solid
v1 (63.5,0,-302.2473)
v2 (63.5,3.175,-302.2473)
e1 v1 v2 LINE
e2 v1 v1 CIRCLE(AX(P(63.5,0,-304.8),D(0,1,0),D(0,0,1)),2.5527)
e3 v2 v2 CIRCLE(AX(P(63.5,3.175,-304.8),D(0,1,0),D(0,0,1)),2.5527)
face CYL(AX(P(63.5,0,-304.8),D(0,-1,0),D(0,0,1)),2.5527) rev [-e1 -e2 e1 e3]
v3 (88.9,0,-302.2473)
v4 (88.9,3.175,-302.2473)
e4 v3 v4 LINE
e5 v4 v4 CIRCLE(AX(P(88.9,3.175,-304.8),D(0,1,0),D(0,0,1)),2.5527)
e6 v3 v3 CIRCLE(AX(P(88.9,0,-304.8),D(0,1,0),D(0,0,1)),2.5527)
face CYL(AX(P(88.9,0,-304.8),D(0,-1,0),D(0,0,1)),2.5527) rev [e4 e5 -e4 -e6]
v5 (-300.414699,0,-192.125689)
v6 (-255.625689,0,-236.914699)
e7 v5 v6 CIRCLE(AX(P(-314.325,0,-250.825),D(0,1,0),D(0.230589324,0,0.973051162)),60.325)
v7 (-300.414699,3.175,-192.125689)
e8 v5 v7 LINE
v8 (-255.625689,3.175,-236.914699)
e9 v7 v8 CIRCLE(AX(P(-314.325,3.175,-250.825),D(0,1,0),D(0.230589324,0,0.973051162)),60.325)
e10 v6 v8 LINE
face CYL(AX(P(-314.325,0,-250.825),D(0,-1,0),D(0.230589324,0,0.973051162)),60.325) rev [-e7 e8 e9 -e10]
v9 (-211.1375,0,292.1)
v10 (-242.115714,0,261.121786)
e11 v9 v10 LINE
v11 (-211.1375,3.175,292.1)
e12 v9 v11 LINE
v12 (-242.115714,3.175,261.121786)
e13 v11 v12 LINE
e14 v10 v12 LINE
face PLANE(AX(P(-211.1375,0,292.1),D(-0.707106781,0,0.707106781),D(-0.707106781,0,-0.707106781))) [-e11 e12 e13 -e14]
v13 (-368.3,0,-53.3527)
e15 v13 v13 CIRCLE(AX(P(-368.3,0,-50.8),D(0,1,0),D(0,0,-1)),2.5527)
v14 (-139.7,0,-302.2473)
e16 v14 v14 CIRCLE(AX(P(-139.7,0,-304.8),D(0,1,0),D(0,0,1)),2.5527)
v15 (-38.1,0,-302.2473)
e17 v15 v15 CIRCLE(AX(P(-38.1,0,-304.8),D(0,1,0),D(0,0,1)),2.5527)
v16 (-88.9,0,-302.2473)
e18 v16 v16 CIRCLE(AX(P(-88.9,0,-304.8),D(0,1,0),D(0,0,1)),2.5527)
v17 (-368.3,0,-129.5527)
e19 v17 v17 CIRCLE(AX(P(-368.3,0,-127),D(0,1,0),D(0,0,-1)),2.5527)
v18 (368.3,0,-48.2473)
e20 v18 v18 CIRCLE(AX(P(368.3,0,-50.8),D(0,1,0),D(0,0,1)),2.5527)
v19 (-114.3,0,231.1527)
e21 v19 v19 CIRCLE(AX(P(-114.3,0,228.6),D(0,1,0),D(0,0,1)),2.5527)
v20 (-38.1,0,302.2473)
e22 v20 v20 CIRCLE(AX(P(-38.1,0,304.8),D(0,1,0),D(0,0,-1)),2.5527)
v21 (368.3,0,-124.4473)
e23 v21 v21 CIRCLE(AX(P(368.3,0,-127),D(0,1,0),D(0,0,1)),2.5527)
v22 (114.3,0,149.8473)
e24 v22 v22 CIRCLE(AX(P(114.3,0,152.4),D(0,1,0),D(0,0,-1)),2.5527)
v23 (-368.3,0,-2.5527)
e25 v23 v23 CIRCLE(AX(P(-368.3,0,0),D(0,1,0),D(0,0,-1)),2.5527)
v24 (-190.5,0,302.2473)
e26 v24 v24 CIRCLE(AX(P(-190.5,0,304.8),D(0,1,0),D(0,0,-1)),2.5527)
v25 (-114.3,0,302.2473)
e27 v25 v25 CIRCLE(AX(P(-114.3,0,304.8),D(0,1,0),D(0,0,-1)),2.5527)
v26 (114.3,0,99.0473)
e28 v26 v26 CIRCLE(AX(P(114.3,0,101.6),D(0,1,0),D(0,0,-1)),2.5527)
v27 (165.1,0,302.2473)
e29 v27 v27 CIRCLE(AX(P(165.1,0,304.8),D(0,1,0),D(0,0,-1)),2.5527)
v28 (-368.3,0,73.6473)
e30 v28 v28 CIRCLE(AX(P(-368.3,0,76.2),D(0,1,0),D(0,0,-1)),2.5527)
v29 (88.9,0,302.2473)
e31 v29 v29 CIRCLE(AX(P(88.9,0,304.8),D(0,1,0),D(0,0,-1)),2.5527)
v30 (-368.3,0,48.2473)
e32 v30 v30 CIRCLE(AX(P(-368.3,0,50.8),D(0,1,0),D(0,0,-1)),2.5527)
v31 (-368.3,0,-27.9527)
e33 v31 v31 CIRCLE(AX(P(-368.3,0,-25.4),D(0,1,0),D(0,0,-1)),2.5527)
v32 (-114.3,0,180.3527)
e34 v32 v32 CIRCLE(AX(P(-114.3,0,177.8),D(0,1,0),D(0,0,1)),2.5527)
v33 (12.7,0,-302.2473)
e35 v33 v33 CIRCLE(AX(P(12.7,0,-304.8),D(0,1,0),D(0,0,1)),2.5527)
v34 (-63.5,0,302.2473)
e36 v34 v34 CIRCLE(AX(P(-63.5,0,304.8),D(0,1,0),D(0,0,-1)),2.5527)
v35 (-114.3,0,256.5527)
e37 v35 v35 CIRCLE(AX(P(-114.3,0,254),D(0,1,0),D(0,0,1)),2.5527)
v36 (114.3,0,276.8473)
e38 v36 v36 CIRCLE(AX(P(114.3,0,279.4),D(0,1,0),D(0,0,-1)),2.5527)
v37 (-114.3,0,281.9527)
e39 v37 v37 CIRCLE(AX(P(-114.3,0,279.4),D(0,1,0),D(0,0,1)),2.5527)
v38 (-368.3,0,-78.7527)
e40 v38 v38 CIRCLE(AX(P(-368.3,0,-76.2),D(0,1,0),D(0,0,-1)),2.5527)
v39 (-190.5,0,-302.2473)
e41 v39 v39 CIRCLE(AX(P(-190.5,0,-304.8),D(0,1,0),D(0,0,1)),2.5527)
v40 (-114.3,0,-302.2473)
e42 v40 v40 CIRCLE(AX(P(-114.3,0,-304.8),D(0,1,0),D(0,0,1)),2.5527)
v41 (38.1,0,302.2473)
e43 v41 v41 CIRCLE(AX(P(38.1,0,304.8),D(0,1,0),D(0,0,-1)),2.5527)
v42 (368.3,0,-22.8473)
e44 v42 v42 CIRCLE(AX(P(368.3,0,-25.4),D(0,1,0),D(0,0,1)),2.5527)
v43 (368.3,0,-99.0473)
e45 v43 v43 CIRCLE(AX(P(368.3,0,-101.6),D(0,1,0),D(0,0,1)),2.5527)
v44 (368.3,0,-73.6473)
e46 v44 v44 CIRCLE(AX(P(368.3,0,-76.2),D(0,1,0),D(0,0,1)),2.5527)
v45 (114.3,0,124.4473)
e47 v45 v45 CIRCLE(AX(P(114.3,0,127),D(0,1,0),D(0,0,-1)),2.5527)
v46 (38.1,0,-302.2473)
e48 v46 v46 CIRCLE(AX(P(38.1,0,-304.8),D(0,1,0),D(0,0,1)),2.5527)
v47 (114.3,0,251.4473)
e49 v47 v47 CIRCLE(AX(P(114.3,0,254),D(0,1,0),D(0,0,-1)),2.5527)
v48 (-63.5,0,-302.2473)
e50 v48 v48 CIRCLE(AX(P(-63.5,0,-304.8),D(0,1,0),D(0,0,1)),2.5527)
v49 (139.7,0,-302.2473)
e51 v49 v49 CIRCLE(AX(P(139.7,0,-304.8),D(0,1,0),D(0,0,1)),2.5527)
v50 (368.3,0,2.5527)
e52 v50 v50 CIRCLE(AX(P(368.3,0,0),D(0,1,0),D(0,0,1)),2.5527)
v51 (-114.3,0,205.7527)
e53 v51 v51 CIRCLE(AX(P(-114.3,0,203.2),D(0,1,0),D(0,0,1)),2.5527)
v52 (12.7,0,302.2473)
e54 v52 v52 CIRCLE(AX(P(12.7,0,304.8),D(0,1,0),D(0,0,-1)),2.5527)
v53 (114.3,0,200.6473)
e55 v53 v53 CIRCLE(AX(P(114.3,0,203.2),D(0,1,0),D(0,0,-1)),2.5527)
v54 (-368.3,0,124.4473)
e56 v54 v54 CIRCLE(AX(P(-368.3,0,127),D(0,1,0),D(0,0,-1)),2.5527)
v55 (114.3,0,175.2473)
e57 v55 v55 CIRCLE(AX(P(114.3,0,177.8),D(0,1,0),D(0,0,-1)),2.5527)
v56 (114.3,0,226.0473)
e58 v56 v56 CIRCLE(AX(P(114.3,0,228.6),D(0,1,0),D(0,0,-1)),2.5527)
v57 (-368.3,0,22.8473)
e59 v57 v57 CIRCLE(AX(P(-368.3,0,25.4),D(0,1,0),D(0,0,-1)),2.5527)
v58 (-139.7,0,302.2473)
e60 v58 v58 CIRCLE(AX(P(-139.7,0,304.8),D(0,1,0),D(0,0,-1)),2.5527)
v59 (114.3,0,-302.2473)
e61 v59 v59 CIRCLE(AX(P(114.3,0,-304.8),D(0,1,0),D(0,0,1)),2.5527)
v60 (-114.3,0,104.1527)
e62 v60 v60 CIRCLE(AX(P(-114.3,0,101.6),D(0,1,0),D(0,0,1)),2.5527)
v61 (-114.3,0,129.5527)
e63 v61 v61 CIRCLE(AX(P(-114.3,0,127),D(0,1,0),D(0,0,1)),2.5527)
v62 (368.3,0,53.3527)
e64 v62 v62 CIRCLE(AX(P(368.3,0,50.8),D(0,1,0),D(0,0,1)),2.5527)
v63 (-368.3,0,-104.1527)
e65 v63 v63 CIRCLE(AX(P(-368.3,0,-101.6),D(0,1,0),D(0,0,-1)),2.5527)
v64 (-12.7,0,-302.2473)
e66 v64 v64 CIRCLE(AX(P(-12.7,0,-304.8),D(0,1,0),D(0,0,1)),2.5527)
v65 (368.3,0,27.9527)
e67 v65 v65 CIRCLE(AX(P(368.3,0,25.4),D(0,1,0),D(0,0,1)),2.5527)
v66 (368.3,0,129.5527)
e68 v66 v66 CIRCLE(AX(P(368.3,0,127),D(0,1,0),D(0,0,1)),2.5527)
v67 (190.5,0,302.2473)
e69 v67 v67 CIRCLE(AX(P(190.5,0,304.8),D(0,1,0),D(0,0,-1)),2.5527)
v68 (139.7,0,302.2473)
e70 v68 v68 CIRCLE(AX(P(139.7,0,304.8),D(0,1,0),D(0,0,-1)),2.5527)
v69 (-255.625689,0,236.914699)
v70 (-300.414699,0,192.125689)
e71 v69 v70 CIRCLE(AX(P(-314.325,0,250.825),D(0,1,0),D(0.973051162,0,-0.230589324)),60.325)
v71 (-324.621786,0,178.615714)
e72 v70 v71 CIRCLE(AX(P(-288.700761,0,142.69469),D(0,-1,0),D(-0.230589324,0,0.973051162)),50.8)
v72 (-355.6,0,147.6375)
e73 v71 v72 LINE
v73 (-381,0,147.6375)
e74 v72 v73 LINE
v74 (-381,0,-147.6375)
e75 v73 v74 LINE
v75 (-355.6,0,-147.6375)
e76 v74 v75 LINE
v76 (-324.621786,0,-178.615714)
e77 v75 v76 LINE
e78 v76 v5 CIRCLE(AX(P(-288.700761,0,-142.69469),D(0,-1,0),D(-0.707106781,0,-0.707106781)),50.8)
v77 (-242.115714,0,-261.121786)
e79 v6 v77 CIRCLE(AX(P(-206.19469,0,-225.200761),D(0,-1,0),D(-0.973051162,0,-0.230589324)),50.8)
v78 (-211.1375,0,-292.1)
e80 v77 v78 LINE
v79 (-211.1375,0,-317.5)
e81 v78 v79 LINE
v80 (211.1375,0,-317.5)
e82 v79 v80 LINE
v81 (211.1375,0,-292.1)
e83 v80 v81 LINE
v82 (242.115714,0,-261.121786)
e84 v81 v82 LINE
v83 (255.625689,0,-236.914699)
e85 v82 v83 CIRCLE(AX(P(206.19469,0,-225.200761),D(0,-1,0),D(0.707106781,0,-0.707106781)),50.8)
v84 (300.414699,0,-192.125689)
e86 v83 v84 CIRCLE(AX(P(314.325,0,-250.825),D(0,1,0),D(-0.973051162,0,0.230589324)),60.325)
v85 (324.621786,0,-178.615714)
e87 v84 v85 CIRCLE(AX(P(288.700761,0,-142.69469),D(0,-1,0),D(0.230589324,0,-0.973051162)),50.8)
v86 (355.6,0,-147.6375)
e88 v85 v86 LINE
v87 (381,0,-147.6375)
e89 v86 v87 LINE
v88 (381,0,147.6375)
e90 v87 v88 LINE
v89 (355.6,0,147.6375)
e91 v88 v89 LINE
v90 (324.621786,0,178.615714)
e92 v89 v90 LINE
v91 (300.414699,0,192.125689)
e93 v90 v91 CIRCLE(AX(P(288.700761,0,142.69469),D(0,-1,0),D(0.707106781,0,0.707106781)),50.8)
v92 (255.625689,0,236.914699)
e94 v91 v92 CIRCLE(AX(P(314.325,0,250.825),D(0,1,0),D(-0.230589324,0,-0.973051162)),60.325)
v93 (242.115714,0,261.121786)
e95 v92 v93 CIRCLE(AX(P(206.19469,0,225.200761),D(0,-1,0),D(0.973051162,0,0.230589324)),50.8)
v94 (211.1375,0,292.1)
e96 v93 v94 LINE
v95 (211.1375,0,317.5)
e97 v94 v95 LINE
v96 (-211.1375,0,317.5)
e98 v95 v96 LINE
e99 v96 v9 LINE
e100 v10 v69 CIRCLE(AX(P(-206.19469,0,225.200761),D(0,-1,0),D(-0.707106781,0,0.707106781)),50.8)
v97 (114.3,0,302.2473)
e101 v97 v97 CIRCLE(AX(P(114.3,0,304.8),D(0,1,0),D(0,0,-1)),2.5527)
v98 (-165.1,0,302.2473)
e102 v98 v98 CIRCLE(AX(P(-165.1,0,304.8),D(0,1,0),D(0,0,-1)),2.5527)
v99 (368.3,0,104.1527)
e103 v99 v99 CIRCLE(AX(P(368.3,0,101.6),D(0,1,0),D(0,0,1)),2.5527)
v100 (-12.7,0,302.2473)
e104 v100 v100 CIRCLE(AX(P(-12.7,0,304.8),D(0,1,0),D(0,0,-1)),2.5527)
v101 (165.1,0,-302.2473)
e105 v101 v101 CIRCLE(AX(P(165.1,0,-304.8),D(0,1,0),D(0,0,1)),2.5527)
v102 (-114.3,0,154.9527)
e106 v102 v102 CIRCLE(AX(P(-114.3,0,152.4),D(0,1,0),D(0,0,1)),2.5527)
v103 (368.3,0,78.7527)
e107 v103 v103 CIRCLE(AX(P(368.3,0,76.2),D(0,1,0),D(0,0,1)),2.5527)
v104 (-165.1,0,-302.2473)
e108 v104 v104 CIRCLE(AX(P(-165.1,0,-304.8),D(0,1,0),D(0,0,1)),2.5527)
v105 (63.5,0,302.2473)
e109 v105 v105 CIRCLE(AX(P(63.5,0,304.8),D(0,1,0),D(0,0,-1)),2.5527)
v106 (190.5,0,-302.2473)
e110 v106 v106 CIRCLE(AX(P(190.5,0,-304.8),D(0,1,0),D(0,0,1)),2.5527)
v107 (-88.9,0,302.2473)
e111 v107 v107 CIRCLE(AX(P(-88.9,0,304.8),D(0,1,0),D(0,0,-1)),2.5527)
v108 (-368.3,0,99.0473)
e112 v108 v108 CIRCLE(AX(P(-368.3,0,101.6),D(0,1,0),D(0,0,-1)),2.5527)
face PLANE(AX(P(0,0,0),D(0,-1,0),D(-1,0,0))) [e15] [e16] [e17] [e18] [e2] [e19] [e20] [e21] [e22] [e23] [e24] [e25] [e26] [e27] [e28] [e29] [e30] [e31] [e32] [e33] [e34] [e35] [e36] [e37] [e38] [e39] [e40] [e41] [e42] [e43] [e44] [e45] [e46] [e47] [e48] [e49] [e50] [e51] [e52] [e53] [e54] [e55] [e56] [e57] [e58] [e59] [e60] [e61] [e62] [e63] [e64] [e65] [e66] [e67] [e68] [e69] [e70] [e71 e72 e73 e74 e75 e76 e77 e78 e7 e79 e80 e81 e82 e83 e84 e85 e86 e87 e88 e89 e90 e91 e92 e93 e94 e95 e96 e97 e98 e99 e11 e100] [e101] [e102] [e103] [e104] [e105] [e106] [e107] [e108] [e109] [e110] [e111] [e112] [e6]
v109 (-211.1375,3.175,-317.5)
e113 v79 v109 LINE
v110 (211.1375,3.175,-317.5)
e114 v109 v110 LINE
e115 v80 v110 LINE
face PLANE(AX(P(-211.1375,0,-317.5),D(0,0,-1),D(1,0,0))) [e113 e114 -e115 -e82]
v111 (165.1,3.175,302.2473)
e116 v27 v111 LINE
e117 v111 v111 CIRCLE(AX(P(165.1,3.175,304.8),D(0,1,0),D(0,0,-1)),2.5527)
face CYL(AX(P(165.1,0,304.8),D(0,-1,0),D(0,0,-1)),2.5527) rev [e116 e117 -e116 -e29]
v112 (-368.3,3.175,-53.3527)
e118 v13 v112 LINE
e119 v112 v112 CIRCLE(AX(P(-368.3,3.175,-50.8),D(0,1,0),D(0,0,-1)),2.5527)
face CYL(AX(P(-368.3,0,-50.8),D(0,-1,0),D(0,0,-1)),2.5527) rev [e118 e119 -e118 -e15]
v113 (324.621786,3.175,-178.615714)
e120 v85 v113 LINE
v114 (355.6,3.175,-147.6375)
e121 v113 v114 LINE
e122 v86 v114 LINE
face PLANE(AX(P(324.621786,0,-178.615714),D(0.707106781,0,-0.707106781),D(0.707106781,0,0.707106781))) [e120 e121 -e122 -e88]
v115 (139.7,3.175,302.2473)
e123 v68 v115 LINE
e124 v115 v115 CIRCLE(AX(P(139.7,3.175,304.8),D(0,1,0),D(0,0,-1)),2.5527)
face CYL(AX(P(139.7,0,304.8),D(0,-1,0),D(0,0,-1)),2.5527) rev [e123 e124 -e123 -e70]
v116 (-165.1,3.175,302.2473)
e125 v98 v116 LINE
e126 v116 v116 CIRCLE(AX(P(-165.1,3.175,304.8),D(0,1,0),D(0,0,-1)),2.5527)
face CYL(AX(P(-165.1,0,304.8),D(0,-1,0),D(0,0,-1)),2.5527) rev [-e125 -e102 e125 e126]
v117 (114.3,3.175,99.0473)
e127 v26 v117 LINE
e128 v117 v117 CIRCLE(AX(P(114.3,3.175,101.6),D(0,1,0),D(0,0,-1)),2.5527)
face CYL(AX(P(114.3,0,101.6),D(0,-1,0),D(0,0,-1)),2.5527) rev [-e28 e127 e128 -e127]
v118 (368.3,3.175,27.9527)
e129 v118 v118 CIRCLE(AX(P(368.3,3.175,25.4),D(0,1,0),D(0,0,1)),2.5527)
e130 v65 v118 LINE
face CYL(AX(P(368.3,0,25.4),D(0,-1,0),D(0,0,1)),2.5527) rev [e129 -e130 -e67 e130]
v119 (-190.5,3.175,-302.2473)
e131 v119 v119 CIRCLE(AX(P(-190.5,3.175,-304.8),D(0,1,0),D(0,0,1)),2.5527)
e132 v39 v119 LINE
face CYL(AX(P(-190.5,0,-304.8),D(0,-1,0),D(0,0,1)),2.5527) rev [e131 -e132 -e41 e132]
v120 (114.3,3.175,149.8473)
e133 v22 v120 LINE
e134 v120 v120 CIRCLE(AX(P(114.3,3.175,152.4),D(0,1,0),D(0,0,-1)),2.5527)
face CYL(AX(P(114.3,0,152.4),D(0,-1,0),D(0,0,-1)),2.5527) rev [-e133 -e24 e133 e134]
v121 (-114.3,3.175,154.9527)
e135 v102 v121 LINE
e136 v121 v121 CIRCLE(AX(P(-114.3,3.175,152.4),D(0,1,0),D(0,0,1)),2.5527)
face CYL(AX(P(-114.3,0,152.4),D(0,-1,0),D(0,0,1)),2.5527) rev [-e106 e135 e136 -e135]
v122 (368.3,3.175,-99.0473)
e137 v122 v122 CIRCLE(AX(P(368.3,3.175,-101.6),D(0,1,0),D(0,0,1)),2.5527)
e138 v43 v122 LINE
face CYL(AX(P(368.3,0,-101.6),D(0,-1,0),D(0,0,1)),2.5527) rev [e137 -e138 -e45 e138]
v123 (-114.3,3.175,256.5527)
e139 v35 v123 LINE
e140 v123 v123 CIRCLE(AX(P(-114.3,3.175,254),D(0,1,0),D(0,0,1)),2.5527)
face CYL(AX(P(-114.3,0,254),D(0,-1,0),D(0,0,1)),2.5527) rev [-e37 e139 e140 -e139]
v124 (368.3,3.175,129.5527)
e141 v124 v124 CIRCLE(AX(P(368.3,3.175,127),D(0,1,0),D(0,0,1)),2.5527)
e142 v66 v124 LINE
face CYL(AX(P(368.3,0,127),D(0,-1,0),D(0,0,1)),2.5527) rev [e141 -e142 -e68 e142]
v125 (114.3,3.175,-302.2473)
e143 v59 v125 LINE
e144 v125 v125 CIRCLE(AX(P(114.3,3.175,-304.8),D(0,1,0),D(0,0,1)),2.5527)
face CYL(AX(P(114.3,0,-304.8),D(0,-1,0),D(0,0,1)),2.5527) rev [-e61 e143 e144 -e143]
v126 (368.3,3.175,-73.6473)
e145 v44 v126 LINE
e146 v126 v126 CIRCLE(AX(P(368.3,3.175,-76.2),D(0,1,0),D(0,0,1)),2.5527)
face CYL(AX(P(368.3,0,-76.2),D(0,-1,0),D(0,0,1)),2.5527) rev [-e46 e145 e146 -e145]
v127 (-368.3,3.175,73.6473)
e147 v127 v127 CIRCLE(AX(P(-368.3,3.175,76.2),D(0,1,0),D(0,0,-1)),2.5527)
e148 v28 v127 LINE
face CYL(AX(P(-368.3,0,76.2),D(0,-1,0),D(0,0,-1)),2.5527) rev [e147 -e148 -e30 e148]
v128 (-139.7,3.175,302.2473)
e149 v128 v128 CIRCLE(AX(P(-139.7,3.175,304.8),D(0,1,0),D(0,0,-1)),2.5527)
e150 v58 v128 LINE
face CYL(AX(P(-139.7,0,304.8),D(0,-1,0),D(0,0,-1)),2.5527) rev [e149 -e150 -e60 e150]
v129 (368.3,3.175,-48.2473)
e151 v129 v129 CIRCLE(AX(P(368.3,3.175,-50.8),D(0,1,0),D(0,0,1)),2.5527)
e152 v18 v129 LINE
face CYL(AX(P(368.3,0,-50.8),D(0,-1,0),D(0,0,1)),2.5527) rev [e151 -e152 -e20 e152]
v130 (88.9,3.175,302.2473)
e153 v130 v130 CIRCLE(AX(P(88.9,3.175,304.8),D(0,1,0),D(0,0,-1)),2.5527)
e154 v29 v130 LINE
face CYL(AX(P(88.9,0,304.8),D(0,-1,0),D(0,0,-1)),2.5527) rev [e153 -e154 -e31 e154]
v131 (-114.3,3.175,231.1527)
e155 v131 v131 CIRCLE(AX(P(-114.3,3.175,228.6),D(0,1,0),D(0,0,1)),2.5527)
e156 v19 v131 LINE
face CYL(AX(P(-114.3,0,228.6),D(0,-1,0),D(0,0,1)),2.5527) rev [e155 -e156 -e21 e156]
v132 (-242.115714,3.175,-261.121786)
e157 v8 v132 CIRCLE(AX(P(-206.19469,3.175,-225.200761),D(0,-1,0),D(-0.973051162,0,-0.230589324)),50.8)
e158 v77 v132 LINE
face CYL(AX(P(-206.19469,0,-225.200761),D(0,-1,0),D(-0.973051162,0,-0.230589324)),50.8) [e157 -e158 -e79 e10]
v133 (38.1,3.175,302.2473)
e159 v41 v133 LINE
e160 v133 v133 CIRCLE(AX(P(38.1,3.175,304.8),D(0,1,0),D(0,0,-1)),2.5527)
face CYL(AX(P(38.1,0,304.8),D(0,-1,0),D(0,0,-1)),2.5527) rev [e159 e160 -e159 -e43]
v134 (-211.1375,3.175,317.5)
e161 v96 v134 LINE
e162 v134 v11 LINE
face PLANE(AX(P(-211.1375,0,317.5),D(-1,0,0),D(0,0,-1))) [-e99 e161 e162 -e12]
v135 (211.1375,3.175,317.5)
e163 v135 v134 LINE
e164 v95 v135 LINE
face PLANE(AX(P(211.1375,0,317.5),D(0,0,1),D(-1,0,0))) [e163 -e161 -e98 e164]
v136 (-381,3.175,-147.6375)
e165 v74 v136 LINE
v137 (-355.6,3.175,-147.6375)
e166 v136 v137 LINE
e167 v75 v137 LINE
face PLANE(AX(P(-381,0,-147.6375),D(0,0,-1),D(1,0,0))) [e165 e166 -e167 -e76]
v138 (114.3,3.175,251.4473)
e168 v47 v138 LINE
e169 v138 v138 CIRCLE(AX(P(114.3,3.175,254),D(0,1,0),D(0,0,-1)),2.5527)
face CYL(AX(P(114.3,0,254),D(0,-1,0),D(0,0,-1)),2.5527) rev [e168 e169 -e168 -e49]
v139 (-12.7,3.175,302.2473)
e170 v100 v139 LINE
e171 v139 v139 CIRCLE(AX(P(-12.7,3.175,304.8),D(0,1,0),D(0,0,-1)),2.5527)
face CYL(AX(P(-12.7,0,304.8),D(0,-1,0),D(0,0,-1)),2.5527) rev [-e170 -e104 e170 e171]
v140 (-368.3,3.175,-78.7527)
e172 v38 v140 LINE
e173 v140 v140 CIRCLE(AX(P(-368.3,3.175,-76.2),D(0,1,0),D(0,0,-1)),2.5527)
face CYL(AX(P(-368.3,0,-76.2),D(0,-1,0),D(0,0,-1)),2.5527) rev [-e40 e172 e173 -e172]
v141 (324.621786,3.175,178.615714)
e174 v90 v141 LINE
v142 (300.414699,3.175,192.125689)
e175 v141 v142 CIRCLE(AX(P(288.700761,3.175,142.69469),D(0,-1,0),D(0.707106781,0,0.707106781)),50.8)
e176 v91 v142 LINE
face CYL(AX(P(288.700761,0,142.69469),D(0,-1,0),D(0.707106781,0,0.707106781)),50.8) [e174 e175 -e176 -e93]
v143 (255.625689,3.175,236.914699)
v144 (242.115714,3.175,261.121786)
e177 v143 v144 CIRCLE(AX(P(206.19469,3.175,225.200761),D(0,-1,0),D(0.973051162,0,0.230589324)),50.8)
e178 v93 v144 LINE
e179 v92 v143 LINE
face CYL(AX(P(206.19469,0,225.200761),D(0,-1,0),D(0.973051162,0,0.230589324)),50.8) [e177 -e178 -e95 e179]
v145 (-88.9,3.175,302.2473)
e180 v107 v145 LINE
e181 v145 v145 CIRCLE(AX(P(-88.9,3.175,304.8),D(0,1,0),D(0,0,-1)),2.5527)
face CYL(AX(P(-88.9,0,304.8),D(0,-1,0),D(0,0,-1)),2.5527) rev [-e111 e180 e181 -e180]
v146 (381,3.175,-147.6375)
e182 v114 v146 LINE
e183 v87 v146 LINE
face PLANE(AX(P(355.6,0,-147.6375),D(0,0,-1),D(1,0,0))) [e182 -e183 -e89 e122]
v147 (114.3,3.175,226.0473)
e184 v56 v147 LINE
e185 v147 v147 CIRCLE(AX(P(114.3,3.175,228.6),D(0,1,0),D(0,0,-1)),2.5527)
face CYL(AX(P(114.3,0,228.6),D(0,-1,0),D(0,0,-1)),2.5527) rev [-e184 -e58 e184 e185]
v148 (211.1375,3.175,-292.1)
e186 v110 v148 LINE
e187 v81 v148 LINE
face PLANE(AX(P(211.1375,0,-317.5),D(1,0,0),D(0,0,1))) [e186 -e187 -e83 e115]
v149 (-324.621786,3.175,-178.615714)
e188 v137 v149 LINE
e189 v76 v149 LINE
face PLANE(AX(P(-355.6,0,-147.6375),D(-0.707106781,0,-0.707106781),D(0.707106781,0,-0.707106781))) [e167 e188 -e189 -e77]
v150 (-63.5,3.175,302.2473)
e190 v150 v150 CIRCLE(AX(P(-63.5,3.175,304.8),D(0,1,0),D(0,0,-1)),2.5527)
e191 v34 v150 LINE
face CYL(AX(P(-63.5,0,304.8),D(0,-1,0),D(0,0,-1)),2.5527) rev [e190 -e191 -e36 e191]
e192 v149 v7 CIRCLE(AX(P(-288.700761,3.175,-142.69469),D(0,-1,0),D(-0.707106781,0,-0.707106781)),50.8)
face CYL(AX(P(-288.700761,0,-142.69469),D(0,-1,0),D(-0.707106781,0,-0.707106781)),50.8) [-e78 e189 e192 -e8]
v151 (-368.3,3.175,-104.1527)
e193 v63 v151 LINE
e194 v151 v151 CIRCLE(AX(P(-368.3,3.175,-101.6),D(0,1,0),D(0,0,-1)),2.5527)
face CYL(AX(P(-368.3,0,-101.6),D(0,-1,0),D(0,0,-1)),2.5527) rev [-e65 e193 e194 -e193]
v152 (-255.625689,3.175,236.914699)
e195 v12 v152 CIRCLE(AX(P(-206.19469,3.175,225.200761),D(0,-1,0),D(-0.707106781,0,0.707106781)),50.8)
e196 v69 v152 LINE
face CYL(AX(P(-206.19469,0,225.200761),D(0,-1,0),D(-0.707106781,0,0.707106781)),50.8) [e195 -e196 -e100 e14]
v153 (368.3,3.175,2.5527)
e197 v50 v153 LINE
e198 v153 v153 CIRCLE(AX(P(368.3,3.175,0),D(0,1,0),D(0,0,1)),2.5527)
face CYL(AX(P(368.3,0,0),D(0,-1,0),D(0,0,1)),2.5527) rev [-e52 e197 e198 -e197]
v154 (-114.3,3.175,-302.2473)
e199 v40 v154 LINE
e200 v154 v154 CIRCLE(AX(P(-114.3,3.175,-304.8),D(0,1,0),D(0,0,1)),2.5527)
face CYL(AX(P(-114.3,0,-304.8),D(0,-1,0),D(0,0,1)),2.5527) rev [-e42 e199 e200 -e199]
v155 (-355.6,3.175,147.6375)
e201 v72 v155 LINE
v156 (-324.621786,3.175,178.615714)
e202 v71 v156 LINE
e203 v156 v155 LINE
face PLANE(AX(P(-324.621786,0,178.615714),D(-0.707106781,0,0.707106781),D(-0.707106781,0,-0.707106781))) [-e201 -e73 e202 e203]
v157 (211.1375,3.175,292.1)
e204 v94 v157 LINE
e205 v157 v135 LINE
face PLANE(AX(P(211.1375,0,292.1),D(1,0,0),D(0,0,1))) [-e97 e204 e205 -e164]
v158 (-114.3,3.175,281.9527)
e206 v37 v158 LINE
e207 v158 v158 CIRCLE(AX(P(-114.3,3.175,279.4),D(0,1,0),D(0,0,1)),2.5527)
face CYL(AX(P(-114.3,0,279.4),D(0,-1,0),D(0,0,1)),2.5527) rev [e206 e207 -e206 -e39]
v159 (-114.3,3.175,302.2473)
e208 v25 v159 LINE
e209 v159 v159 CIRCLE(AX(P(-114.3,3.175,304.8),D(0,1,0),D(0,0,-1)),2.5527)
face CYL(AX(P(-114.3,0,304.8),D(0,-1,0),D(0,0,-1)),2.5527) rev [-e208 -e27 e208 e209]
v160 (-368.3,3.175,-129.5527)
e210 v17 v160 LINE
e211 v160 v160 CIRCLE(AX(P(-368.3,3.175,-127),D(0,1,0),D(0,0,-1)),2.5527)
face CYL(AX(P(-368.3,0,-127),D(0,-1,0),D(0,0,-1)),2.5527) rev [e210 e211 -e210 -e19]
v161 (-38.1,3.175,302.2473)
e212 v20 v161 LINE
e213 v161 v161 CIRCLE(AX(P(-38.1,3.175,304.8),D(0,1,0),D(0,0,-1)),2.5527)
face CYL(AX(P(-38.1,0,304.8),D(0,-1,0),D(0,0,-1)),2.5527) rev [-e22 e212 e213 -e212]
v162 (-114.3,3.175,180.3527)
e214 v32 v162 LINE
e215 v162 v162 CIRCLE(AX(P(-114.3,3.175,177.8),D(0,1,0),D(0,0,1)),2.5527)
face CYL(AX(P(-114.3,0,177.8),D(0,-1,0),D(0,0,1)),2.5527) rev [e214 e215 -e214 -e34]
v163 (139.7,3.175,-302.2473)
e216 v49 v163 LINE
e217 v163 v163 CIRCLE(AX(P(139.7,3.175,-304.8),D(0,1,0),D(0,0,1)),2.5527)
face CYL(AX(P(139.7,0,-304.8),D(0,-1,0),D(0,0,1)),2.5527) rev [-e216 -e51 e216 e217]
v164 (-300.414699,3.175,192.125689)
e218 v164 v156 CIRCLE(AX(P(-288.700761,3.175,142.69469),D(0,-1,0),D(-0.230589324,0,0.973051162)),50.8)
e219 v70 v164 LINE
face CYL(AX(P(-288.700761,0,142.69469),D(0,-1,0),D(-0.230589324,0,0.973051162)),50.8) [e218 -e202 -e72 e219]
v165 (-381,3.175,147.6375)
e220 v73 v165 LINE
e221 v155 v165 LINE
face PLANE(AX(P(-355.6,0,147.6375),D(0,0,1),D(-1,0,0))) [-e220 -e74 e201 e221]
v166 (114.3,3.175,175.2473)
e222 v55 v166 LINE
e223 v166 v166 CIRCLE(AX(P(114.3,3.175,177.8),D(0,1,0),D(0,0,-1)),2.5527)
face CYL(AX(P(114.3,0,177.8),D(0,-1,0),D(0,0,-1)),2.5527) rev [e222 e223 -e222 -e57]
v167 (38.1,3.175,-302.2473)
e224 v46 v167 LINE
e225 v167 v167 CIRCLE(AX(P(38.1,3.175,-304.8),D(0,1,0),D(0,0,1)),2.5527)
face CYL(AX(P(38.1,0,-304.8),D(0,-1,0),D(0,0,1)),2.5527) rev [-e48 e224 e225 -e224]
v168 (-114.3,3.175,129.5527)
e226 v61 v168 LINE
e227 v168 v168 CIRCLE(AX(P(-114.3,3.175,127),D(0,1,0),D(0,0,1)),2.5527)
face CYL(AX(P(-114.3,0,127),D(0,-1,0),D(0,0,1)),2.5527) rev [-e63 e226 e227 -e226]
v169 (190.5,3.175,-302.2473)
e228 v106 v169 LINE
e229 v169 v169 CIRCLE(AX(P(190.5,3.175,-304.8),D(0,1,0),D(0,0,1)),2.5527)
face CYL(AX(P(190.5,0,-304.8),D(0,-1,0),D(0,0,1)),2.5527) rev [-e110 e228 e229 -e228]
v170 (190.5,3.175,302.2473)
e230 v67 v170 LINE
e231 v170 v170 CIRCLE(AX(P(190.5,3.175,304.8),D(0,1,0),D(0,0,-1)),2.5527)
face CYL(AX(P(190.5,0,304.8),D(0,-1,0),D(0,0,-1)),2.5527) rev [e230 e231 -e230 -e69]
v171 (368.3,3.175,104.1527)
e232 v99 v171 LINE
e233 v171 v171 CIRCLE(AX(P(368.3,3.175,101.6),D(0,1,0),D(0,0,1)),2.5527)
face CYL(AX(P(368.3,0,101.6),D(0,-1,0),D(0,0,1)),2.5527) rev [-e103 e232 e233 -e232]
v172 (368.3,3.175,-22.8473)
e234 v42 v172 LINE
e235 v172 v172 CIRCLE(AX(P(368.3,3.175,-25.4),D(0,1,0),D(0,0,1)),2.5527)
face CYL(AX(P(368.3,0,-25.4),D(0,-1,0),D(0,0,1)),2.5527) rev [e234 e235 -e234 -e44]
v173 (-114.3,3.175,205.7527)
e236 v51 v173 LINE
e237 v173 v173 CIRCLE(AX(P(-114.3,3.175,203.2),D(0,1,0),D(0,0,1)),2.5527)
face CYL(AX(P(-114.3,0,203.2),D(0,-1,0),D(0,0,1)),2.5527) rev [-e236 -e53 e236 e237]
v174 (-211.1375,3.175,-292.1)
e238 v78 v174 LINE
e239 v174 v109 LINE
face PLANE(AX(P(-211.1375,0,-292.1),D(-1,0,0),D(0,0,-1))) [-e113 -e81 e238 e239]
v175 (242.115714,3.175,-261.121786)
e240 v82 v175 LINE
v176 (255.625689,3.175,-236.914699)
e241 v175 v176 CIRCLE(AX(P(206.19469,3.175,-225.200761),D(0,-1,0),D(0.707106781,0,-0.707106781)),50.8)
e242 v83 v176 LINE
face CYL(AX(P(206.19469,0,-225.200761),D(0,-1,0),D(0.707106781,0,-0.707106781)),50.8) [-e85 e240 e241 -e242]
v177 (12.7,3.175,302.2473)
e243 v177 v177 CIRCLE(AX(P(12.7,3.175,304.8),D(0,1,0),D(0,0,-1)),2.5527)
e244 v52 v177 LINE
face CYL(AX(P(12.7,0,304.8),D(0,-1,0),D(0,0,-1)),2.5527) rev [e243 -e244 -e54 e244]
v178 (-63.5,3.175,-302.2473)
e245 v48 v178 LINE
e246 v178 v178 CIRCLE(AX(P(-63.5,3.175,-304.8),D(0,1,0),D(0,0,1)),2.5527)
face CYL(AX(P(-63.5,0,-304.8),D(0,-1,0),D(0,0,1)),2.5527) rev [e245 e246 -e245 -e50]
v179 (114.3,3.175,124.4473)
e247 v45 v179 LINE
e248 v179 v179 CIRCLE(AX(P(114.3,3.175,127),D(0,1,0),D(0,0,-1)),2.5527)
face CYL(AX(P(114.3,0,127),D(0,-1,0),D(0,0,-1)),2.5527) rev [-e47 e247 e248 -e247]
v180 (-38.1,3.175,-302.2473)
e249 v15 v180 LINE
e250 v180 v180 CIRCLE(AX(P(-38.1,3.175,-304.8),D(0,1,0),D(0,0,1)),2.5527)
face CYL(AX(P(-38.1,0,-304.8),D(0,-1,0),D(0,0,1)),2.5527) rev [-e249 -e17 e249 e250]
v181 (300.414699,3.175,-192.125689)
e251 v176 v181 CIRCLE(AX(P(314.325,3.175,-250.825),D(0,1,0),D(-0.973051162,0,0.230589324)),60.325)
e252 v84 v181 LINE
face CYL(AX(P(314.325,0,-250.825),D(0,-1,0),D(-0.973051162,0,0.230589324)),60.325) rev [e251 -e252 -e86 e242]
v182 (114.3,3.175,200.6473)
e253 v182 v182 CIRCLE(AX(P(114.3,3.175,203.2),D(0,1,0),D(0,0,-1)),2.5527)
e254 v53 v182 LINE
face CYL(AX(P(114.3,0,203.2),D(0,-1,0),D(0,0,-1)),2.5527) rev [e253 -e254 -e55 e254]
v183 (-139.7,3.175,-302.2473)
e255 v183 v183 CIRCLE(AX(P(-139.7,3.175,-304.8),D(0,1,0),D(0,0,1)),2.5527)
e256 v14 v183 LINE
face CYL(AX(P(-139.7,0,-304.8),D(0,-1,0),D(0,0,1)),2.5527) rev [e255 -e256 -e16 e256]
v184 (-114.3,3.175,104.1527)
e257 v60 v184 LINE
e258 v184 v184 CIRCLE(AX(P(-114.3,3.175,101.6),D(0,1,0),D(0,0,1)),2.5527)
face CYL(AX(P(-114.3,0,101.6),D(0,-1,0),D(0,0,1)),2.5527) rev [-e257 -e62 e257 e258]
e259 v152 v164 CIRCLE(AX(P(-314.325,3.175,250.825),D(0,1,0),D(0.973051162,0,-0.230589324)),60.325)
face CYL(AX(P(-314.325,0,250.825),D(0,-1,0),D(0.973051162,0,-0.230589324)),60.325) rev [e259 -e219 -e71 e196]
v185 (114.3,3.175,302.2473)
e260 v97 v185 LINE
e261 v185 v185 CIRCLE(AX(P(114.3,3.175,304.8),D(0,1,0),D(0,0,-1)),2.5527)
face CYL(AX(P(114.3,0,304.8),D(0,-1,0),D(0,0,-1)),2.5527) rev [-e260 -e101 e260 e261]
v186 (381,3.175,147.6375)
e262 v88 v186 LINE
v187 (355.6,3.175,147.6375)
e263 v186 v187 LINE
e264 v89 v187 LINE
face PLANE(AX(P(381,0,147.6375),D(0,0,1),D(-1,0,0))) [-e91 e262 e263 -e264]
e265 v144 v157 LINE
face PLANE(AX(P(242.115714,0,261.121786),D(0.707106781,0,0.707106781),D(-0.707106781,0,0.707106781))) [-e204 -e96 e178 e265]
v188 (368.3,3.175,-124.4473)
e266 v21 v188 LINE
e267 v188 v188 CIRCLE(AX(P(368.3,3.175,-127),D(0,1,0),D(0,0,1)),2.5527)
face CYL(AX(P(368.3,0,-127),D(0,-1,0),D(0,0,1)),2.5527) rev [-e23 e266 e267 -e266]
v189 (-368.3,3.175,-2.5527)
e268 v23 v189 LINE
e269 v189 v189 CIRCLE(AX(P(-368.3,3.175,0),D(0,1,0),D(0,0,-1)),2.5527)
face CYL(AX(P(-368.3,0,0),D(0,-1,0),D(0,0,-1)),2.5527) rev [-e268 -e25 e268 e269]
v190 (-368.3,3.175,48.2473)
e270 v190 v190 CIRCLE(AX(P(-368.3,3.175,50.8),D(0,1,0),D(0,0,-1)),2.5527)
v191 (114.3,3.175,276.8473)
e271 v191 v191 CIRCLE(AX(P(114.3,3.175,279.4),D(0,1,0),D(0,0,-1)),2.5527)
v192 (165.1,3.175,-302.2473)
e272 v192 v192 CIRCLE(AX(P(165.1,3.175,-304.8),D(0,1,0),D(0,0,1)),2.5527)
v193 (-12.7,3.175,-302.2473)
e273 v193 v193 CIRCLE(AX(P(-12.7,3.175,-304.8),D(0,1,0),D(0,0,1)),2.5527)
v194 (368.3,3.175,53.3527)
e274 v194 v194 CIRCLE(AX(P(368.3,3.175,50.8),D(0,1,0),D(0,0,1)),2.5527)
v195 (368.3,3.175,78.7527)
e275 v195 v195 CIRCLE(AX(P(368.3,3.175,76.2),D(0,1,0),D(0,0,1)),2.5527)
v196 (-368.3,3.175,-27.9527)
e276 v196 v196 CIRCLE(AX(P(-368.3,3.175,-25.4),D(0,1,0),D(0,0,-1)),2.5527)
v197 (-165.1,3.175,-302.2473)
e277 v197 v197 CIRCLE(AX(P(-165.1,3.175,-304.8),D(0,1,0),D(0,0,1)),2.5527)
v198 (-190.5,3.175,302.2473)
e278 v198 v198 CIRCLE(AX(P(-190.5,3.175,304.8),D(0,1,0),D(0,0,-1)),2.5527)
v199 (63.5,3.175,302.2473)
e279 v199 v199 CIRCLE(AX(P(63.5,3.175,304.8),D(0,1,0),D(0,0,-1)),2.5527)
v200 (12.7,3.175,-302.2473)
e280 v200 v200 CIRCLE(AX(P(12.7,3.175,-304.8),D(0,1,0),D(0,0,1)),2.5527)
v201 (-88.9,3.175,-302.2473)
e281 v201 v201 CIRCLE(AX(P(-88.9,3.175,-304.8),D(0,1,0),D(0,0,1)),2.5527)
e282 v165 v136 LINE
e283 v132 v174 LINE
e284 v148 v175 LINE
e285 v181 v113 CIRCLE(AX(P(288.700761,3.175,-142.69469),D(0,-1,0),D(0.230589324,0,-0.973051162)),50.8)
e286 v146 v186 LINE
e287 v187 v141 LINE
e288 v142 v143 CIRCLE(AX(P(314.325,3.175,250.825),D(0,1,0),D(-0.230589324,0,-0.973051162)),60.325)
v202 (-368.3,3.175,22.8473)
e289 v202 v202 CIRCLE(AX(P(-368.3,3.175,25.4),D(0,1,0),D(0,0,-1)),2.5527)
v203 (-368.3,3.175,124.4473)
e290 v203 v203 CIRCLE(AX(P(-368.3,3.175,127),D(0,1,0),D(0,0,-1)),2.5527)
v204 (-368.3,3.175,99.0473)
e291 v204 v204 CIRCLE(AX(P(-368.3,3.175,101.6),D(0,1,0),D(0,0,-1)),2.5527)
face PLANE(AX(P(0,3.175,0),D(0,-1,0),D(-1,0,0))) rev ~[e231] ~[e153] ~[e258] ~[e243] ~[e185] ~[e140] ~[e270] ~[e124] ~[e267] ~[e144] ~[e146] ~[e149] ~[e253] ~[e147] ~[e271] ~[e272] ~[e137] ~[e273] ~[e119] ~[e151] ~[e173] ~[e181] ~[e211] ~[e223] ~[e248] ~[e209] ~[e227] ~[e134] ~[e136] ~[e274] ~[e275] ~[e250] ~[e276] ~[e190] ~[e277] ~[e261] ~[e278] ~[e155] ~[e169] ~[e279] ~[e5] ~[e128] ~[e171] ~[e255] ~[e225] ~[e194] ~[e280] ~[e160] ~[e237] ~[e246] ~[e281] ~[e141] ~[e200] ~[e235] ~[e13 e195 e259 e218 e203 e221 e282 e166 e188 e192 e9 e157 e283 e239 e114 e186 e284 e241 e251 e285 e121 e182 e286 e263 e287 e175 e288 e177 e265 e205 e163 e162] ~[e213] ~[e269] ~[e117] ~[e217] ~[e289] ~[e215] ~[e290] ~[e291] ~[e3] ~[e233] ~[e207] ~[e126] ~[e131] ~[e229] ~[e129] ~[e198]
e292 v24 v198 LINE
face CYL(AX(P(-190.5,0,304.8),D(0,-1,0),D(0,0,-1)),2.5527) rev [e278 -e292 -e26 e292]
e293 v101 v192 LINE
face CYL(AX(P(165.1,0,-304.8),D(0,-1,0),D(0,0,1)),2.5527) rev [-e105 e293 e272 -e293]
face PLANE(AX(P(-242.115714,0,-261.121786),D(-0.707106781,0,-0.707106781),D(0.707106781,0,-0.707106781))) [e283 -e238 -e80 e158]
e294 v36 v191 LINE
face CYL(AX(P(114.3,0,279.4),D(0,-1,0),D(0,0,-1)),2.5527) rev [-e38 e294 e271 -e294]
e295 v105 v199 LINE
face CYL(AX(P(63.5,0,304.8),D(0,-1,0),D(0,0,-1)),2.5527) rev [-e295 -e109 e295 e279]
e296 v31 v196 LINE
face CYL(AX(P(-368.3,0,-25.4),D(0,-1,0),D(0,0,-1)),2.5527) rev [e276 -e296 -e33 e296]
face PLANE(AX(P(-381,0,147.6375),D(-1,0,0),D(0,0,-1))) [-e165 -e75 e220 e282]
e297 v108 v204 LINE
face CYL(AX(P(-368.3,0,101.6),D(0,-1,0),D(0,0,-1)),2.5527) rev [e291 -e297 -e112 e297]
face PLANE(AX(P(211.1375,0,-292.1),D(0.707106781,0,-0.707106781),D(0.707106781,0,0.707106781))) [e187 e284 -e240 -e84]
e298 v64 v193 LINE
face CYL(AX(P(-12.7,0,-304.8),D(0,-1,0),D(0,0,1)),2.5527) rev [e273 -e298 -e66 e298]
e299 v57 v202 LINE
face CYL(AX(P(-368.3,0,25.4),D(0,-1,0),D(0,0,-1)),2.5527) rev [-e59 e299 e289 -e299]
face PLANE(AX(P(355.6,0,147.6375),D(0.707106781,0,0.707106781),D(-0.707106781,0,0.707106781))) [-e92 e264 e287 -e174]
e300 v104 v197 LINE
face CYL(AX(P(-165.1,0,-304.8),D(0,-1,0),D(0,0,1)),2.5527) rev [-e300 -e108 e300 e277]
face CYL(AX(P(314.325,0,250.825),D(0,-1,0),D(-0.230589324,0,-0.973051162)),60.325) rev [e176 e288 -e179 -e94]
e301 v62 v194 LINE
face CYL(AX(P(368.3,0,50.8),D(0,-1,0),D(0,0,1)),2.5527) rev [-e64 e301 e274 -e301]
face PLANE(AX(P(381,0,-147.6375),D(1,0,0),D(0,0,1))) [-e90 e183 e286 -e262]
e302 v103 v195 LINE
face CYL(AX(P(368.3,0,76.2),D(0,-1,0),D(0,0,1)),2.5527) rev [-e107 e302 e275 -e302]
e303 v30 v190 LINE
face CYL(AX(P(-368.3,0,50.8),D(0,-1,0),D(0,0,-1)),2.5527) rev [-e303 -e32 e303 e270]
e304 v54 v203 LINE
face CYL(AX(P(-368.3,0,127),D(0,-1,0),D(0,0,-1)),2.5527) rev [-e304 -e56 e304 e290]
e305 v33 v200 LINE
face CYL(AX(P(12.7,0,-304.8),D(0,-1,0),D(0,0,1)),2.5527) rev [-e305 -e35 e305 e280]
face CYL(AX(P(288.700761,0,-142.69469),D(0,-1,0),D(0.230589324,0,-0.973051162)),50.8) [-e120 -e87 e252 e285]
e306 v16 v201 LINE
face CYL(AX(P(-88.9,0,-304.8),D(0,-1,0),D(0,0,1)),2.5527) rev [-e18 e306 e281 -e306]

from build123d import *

# Parameters (mm, degrees)
SKETCH2_R           = 2.5527
BOSS_EXTRUDE1_DEPTH = 3.175


with BuildPart() as part:
    # Sketch2 → Boss-Extrude1 (new body)
    with BuildSketch(Plane(origin=(0, 0, 0), x_dir=(1, 0, 0), z_dir=(0, 1, 0))):
        with BuildLine():
            Line((-381, -147.6375), (-381, 147.6375))
            Line((-381, 147.6375), (-355.6, 147.6375))
            Line((-355.6, 147.6375), (-324.621785889, 178.615714111))
            ThreePointArc((-324.621785889, 178.615714111), (-313.457624236, 187.053879686), (-300.414699048, 192.125688655))
            ThreePointArc((-300.414699048, 192.125688655), (-271.668783425, 208.168783425), (-255.625688655, 236.914699048))
            ThreePointArc((-255.625688655, 236.914699048), (-250.553879686, 249.957624236), (-242.115714111, 261.121785889))
            Line((-242.115714111, 261.121785889), (-211.1375, 292.1))
            Line((-211.1375, 292.1), (-211.1375, 317.5))
            Line((-211.1375, 317.5), (211.1375, 317.5))
            Line((211.1375, 317.5), (211.1375, 292.1))
            Line((211.1375, 292.1), (242.115714111, 261.121785889))
            ThreePointArc((242.115714111, 261.121785889), (250.553879686, 249.957624236), (255.625688655, 236.914699048))
            ThreePointArc((255.625688655, 236.914699048), (271.668783425, 208.168783425), (300.414699048, 192.125688655))
            ThreePointArc((300.414699048, 192.125688655), (313.457624236, 187.053879686), (324.621785889, 178.615714111))
            Line((324.621785889, 178.615714111), (355.6, 147.6375))
            Line((355.6, 147.6375), (381, 147.6375))
            Line((381, 147.6375), (381, -147.6375))
            Line((381, -147.6375), (355.6, -147.6375))
            Line((355.6, -147.6375), (324.621785889, -178.615714111))
            ThreePointArc((324.621785889, -178.615714111), (313.457624236, -187.053879686), (300.414699048, -192.125688655))
            ThreePointArc((300.414699048, -192.125688655), (271.668783425, -208.168783425), (255.625688655, -236.914699048))
            ThreePointArc((255.625688655, -236.914699048), (250.553879686, -249.957624236), (242.115714111, -261.121785889))
            Line((242.115714111, -261.121785889), (211.1375, -292.1))
            Line((211.1375, -292.1), (211.1375, -317.5))
            Line((211.1375, -317.5), (-101.6, -317.5))
            Line((-101.6, -317.5), (-211.1375, -317.5))
            Line((-211.1375, -317.5), (-211.1375, -292.1))
            Line((-211.1375, -292.1), (-242.115714111, -261.121785889))
            ThreePointArc((-242.115714111, -261.121785889), (-250.553879686, -249.957624236), (-255.625688655, -236.914699048))
            ThreePointArc((-255.625688655, -236.914699048), (-271.668783425, -208.168783425), (-300.414699048, -192.125688655))
            ThreePointArc((-300.414699048, -192.125688655), (-313.457624236, -187.053879686), (-324.621785889, -178.615714111))
            Line((-324.621785889, -178.615714111), (-355.6, -147.6375))
            Line((-355.6, -147.6375), (-381, -147.6375))
        make_face()
        with Locations(Location((-190.5, 304.8, 0), (0, 0, 270))):
            Circle(SKETCH2_R, mode=Mode.SUBTRACT)
        with Locations(Location((-165.1, 304.8, 0), (0, 0, 270))):
            Circle(SKETCH2_R, mode=Mode.SUBTRACT)
        with Locations(Location((-139.7, 304.8, 0), (0, 0, 270))):
            Circle(SKETCH2_R, mode=Mode.SUBTRACT)
        with Locations(Location((-114.3, 304.8, 0), (0, 0, 270))):
            Circle(SKETCH2_R, mode=Mode.SUBTRACT)
        with Locations(Location((-88.9, 304.8, 0), (0, 0, 270))):
            Circle(SKETCH2_R, mode=Mode.SUBTRACT)
        with Locations(Location((-63.5, 304.8, 0), (0, 0, 270))):
            Circle(SKETCH2_R, mode=Mode.SUBTRACT)
        with Locations(Location((-38.1, 304.8, 0), (0, 0, 270))):
            Circle(SKETCH2_R, mode=Mode.SUBTRACT)
        with Locations(Location((-12.7, 304.8, 0), (0, 0, 270))):
            Circle(SKETCH2_R, mode=Mode.SUBTRACT)
        with Locations(Location((12.7, 304.8, 0), (0, 0, 270))):
            Circle(SKETCH2_R, mode=Mode.SUBTRACT)
        with Locations(Location((38.1, 304.8, 0), (0, 0, 270))):
            Circle(SKETCH2_R, mode=Mode.SUBTRACT)
        with Locations(Location((63.5, 304.8, 0), (0, 0, 270))):
            Circle(SKETCH2_R, mode=Mode.SUBTRACT)
        with Locations(Location((88.9, 304.8, 0), (0, 0, 270))):
            Circle(SKETCH2_R, mode=Mode.SUBTRACT)
        with Locations(Location((114.3, 304.8, 0), (0, 0, 270))):
            Circle(SKETCH2_R, mode=Mode.SUBTRACT)
        with Locations(Location((139.7, 304.8, 0), (0, 0, 270))):
            Circle(SKETCH2_R, mode=Mode.SUBTRACT)
        with Locations(Location((368.3, 127, 0), (0, 0, 270))):
            Circle(SKETCH2_R, mode=Mode.SUBTRACT)
        with Locations(Location((368.3, 101.6, 0), (0, 0, 270))):
            Circle(SKETCH2_R, mode=Mode.SUBTRACT)
        with Locations(Location((368.3, 76.2, 0), (0, 0, 270))):
            Circle(SKETCH2_R, mode=Mode.SUBTRACT)
        with Locations(Location((368.3, 50.8, 0), (0, 0, 270))):
            Circle(SKETCH2_R, mode=Mode.SUBTRACT)
        with Locations(Location((368.3, 25.4, 0), (0, 0, 270))):
            Circle(SKETCH2_R, mode=Mode.SUBTRACT)
        with Locations(Location((368.3, 0, 0), (0, 0, 270))):
            Circle(SKETCH2_R, mode=Mode.SUBTRACT)
        with Locations(Location((368.3, -25.4, 0), (0, 0, 270))):
            Circle(SKETCH2_R, mode=Mode.SUBTRACT)
        with Locations(Location((368.3, -50.8, 0), (0, 0, 270))):
            Circle(SKETCH2_R, mode=Mode.SUBTRACT)
        with Locations(Location((368.3, -76.2, 0), (0, 0, 270))):
            Circle(SKETCH2_R, mode=Mode.SUBTRACT)
        with Locations(Location((139.7, -304.8, 0), (0, 0, 90))):
            Circle(SKETCH2_R, mode=Mode.SUBTRACT)
        with Locations(Location((114.3, -304.8, 0), (0, 0, 90))):
            Circle(SKETCH2_R, mode=Mode.SUBTRACT)
        with Locations(Location((-114.3, -304.8, 0), (0, 0, 90))):
            Circle(SKETCH2_R, mode=Mode.SUBTRACT)
        with Locations(Location((-139.7, -304.8, 0), (0, 0, 90))):
            Circle(SKETCH2_R, mode=Mode.SUBTRACT)
        with Locations(Location((-165.1, -304.8, 0), (0, 0, 90))):
            Circle(SKETCH2_R, mode=Mode.SUBTRACT)
        with Locations(Location((-190.5, -304.8, 0), (0, 0, 90))):
            Circle(SKETCH2_R, mode=Mode.SUBTRACT)
        with Locations(Location((-368.3, -76.2, 0), (0, 0, 90))):
            Circle(SKETCH2_R, mode=Mode.SUBTRACT)
        with Locations(Location((-368.3, -50.8, 0), (0, 0, 90))):
            Circle(SKETCH2_R, mode=Mode.SUBTRACT)
        with Locations(Location((-368.3, -25.4, 0), (0, 0, 90))):
            Circle(SKETCH2_R, mode=Mode.SUBTRACT)
        with Locations(Location((-368.3, 0, 0), (0, 0, 90))):
            Circle(SKETCH2_R, mode=Mode.SUBTRACT)
        with Locations(Location((-368.3, 25.4, 0), (0, 0, 90))):
            Circle(SKETCH2_R, mode=Mode.SUBTRACT)
        with Locations(Location((-368.3, 50.8, 0), (0, 0, 90))):
            Circle(SKETCH2_R, mode=Mode.SUBTRACT)
        with Locations(Location((-368.3, 76.2, 0), (0, 0, 90))):
            Circle(SKETCH2_R, mode=Mode.SUBTRACT)
        with Locations(Location((-368.3, 101.6, 0), (0, 0, 90))):
            Circle(SKETCH2_R, mode=Mode.SUBTRACT)
        with Locations(Location((-368.3, 127, 0), (0, 0, 90))):
            Circle(SKETCH2_R, mode=Mode.SUBTRACT)
        with Locations(Location((-114.3, -279.4, 0), (0, 0, 270))):
            Circle(SKETCH2_R, mode=Mode.SUBTRACT)
        with Locations(Location((-114.3, -254, 0), (0, 0, 270))):
            Circle(SKETCH2_R, mode=Mode.SUBTRACT)
        with Locations(Location((-114.3, -228.6, 0), (0, 0, 270))):
            Circle(SKETCH2_R, mode=Mode.SUBTRACT)
        with Locations(Location((-114.3, -203.2, 0), (0, 0, 270))):
            Circle(SKETCH2_R, mode=Mode.SUBTRACT)
        with Locations(Location((-114.3, -177.8, 0), (0, 0, 270))):
            Circle(SKETCH2_R, mode=Mode.SUBTRACT)
        with Locations(Location((-114.3, -152.4, 0), (0, 0, 270))):
            Circle(SKETCH2_R, mode=Mode.SUBTRACT)
        with Locations(Location((-114.3, -127, 0), (0, 0, 270))):
            Circle(SKETCH2_R, mode=Mode.SUBTRACT)
        with Locations(Location((-114.3, -101.6, 0), (0, 0, 270))):
            Circle(SKETCH2_R, mode=Mode.SUBTRACT)
        with Locations(Location((114.3, -279.4, 0), (0, 0, 90))):
            Circle(SKETCH2_R, mode=Mode.SUBTRACT)
        with Locations(Location((114.3, -254, 0), (0, 0, 90))):
            Circle(SKETCH2_R, mode=Mode.SUBTRACT)
        with Locations(Location((114.3, -228.6, 0), (0, 0, 90))):
            Circle(SKETCH2_R, mode=Mode.SUBTRACT)
        with Locations(Location((114.3, -203.2, 0), (0, 0, 90))):
            Circle(SKETCH2_R, mode=Mode.SUBTRACT)
        with Locations(Location((114.3, -177.8, 0), (0, 0, 90))):
            Circle(SKETCH2_R, mode=Mode.SUBTRACT)
        with Locations(Location((114.3, -152.4, 0), (0, 0, 90))):
            Circle(SKETCH2_R, mode=Mode.SUBTRACT)
        with Locations(Location((114.3, -127, 0), (0, 0, 90))):
            Circle(SKETCH2_R, mode=Mode.SUBTRACT)
        with Locations(Location((114.3, -101.6, 0), (0, 0, 90))):
            Circle(SKETCH2_R, mode=Mode.SUBTRACT)
        with Locations(Location((165.1, 304.8, 0), (0, 0, 270))):
            Circle(SKETCH2_R, mode=Mode.SUBTRACT)
        with Locations(Location((190.5, 304.8, 0), (0, 0, 270))):
            Circle(SKETCH2_R, mode=Mode.SUBTRACT)
        with Locations(Location((368.3, -101.6, 0), (0, 0, 270))):
            Circle(SKETCH2_R, mode=Mode.SUBTRACT)
        with Locations(Location((368.3, -127, 0), (0, 0, 270))):
            Circle(SKETCH2_R, mode=Mode.SUBTRACT)
        with Locations(Location((165.1, -304.8, 0), (0, 0, 90))):
            Circle(SKETCH2_R, mode=Mode.SUBTRACT)
        with Locations(Location((190.5, -304.8, 0), (0, 0, 90))):
            Circle(SKETCH2_R, mode=Mode.SUBTRACT)
        with Locations(Location((-368.3, -101.6, 0), (0, 0, 90))):
            Circle(SKETCH2_R, mode=Mode.SUBTRACT)
        with Locations(Location((-368.3, -127, 0), (0, 0, 90))):
            Circle(SKETCH2_R, mode=Mode.SUBTRACT)
        with Locations(Location((-88.9, -304.8, 0), (0, 0, 90))):
            Circle(SKETCH2_R, mode=Mode.SUBTRACT)
        with Locations(Location((-63.5, -304.8, 0), (0, 0, 90))):
            Circle(SKETCH2_R, mode=Mode.SUBTRACT)
        with Locations(Location((-38.1, -304.8, 0), (0, 0, 90))):
            Circle(SKETCH2_R, mode=Mode.SUBTRACT)
        with Locations(Location((-12.7, -304.8, 0), (0, 0, 90))):
            Circle(SKETCH2_R, mode=Mode.SUBTRACT)
        with Locations(Location((12.7, -304.8, 0), (0, 0, 90))):
            Circle(SKETCH2_R, mode=Mode.SUBTRACT)
        with Locations(Location((38.1, -304.8, 0), (0, 0, 90))):
            Circle(SKETCH2_R, mode=Mode.SUBTRACT)
        with Locations(Location((63.5, -304.8, 0), (0, 0, 90))):
            Circle(SKETCH2_R, mode=Mode.SUBTRACT)
        with Locations(Location((88.9, -304.8, 0), (0, 0, 90))):
            Circle(SKETCH2_R, mode=Mode.SUBTRACT)
    extrude(amount=BOSS_EXTRUDE1_DEPTH)


solid = part.part
